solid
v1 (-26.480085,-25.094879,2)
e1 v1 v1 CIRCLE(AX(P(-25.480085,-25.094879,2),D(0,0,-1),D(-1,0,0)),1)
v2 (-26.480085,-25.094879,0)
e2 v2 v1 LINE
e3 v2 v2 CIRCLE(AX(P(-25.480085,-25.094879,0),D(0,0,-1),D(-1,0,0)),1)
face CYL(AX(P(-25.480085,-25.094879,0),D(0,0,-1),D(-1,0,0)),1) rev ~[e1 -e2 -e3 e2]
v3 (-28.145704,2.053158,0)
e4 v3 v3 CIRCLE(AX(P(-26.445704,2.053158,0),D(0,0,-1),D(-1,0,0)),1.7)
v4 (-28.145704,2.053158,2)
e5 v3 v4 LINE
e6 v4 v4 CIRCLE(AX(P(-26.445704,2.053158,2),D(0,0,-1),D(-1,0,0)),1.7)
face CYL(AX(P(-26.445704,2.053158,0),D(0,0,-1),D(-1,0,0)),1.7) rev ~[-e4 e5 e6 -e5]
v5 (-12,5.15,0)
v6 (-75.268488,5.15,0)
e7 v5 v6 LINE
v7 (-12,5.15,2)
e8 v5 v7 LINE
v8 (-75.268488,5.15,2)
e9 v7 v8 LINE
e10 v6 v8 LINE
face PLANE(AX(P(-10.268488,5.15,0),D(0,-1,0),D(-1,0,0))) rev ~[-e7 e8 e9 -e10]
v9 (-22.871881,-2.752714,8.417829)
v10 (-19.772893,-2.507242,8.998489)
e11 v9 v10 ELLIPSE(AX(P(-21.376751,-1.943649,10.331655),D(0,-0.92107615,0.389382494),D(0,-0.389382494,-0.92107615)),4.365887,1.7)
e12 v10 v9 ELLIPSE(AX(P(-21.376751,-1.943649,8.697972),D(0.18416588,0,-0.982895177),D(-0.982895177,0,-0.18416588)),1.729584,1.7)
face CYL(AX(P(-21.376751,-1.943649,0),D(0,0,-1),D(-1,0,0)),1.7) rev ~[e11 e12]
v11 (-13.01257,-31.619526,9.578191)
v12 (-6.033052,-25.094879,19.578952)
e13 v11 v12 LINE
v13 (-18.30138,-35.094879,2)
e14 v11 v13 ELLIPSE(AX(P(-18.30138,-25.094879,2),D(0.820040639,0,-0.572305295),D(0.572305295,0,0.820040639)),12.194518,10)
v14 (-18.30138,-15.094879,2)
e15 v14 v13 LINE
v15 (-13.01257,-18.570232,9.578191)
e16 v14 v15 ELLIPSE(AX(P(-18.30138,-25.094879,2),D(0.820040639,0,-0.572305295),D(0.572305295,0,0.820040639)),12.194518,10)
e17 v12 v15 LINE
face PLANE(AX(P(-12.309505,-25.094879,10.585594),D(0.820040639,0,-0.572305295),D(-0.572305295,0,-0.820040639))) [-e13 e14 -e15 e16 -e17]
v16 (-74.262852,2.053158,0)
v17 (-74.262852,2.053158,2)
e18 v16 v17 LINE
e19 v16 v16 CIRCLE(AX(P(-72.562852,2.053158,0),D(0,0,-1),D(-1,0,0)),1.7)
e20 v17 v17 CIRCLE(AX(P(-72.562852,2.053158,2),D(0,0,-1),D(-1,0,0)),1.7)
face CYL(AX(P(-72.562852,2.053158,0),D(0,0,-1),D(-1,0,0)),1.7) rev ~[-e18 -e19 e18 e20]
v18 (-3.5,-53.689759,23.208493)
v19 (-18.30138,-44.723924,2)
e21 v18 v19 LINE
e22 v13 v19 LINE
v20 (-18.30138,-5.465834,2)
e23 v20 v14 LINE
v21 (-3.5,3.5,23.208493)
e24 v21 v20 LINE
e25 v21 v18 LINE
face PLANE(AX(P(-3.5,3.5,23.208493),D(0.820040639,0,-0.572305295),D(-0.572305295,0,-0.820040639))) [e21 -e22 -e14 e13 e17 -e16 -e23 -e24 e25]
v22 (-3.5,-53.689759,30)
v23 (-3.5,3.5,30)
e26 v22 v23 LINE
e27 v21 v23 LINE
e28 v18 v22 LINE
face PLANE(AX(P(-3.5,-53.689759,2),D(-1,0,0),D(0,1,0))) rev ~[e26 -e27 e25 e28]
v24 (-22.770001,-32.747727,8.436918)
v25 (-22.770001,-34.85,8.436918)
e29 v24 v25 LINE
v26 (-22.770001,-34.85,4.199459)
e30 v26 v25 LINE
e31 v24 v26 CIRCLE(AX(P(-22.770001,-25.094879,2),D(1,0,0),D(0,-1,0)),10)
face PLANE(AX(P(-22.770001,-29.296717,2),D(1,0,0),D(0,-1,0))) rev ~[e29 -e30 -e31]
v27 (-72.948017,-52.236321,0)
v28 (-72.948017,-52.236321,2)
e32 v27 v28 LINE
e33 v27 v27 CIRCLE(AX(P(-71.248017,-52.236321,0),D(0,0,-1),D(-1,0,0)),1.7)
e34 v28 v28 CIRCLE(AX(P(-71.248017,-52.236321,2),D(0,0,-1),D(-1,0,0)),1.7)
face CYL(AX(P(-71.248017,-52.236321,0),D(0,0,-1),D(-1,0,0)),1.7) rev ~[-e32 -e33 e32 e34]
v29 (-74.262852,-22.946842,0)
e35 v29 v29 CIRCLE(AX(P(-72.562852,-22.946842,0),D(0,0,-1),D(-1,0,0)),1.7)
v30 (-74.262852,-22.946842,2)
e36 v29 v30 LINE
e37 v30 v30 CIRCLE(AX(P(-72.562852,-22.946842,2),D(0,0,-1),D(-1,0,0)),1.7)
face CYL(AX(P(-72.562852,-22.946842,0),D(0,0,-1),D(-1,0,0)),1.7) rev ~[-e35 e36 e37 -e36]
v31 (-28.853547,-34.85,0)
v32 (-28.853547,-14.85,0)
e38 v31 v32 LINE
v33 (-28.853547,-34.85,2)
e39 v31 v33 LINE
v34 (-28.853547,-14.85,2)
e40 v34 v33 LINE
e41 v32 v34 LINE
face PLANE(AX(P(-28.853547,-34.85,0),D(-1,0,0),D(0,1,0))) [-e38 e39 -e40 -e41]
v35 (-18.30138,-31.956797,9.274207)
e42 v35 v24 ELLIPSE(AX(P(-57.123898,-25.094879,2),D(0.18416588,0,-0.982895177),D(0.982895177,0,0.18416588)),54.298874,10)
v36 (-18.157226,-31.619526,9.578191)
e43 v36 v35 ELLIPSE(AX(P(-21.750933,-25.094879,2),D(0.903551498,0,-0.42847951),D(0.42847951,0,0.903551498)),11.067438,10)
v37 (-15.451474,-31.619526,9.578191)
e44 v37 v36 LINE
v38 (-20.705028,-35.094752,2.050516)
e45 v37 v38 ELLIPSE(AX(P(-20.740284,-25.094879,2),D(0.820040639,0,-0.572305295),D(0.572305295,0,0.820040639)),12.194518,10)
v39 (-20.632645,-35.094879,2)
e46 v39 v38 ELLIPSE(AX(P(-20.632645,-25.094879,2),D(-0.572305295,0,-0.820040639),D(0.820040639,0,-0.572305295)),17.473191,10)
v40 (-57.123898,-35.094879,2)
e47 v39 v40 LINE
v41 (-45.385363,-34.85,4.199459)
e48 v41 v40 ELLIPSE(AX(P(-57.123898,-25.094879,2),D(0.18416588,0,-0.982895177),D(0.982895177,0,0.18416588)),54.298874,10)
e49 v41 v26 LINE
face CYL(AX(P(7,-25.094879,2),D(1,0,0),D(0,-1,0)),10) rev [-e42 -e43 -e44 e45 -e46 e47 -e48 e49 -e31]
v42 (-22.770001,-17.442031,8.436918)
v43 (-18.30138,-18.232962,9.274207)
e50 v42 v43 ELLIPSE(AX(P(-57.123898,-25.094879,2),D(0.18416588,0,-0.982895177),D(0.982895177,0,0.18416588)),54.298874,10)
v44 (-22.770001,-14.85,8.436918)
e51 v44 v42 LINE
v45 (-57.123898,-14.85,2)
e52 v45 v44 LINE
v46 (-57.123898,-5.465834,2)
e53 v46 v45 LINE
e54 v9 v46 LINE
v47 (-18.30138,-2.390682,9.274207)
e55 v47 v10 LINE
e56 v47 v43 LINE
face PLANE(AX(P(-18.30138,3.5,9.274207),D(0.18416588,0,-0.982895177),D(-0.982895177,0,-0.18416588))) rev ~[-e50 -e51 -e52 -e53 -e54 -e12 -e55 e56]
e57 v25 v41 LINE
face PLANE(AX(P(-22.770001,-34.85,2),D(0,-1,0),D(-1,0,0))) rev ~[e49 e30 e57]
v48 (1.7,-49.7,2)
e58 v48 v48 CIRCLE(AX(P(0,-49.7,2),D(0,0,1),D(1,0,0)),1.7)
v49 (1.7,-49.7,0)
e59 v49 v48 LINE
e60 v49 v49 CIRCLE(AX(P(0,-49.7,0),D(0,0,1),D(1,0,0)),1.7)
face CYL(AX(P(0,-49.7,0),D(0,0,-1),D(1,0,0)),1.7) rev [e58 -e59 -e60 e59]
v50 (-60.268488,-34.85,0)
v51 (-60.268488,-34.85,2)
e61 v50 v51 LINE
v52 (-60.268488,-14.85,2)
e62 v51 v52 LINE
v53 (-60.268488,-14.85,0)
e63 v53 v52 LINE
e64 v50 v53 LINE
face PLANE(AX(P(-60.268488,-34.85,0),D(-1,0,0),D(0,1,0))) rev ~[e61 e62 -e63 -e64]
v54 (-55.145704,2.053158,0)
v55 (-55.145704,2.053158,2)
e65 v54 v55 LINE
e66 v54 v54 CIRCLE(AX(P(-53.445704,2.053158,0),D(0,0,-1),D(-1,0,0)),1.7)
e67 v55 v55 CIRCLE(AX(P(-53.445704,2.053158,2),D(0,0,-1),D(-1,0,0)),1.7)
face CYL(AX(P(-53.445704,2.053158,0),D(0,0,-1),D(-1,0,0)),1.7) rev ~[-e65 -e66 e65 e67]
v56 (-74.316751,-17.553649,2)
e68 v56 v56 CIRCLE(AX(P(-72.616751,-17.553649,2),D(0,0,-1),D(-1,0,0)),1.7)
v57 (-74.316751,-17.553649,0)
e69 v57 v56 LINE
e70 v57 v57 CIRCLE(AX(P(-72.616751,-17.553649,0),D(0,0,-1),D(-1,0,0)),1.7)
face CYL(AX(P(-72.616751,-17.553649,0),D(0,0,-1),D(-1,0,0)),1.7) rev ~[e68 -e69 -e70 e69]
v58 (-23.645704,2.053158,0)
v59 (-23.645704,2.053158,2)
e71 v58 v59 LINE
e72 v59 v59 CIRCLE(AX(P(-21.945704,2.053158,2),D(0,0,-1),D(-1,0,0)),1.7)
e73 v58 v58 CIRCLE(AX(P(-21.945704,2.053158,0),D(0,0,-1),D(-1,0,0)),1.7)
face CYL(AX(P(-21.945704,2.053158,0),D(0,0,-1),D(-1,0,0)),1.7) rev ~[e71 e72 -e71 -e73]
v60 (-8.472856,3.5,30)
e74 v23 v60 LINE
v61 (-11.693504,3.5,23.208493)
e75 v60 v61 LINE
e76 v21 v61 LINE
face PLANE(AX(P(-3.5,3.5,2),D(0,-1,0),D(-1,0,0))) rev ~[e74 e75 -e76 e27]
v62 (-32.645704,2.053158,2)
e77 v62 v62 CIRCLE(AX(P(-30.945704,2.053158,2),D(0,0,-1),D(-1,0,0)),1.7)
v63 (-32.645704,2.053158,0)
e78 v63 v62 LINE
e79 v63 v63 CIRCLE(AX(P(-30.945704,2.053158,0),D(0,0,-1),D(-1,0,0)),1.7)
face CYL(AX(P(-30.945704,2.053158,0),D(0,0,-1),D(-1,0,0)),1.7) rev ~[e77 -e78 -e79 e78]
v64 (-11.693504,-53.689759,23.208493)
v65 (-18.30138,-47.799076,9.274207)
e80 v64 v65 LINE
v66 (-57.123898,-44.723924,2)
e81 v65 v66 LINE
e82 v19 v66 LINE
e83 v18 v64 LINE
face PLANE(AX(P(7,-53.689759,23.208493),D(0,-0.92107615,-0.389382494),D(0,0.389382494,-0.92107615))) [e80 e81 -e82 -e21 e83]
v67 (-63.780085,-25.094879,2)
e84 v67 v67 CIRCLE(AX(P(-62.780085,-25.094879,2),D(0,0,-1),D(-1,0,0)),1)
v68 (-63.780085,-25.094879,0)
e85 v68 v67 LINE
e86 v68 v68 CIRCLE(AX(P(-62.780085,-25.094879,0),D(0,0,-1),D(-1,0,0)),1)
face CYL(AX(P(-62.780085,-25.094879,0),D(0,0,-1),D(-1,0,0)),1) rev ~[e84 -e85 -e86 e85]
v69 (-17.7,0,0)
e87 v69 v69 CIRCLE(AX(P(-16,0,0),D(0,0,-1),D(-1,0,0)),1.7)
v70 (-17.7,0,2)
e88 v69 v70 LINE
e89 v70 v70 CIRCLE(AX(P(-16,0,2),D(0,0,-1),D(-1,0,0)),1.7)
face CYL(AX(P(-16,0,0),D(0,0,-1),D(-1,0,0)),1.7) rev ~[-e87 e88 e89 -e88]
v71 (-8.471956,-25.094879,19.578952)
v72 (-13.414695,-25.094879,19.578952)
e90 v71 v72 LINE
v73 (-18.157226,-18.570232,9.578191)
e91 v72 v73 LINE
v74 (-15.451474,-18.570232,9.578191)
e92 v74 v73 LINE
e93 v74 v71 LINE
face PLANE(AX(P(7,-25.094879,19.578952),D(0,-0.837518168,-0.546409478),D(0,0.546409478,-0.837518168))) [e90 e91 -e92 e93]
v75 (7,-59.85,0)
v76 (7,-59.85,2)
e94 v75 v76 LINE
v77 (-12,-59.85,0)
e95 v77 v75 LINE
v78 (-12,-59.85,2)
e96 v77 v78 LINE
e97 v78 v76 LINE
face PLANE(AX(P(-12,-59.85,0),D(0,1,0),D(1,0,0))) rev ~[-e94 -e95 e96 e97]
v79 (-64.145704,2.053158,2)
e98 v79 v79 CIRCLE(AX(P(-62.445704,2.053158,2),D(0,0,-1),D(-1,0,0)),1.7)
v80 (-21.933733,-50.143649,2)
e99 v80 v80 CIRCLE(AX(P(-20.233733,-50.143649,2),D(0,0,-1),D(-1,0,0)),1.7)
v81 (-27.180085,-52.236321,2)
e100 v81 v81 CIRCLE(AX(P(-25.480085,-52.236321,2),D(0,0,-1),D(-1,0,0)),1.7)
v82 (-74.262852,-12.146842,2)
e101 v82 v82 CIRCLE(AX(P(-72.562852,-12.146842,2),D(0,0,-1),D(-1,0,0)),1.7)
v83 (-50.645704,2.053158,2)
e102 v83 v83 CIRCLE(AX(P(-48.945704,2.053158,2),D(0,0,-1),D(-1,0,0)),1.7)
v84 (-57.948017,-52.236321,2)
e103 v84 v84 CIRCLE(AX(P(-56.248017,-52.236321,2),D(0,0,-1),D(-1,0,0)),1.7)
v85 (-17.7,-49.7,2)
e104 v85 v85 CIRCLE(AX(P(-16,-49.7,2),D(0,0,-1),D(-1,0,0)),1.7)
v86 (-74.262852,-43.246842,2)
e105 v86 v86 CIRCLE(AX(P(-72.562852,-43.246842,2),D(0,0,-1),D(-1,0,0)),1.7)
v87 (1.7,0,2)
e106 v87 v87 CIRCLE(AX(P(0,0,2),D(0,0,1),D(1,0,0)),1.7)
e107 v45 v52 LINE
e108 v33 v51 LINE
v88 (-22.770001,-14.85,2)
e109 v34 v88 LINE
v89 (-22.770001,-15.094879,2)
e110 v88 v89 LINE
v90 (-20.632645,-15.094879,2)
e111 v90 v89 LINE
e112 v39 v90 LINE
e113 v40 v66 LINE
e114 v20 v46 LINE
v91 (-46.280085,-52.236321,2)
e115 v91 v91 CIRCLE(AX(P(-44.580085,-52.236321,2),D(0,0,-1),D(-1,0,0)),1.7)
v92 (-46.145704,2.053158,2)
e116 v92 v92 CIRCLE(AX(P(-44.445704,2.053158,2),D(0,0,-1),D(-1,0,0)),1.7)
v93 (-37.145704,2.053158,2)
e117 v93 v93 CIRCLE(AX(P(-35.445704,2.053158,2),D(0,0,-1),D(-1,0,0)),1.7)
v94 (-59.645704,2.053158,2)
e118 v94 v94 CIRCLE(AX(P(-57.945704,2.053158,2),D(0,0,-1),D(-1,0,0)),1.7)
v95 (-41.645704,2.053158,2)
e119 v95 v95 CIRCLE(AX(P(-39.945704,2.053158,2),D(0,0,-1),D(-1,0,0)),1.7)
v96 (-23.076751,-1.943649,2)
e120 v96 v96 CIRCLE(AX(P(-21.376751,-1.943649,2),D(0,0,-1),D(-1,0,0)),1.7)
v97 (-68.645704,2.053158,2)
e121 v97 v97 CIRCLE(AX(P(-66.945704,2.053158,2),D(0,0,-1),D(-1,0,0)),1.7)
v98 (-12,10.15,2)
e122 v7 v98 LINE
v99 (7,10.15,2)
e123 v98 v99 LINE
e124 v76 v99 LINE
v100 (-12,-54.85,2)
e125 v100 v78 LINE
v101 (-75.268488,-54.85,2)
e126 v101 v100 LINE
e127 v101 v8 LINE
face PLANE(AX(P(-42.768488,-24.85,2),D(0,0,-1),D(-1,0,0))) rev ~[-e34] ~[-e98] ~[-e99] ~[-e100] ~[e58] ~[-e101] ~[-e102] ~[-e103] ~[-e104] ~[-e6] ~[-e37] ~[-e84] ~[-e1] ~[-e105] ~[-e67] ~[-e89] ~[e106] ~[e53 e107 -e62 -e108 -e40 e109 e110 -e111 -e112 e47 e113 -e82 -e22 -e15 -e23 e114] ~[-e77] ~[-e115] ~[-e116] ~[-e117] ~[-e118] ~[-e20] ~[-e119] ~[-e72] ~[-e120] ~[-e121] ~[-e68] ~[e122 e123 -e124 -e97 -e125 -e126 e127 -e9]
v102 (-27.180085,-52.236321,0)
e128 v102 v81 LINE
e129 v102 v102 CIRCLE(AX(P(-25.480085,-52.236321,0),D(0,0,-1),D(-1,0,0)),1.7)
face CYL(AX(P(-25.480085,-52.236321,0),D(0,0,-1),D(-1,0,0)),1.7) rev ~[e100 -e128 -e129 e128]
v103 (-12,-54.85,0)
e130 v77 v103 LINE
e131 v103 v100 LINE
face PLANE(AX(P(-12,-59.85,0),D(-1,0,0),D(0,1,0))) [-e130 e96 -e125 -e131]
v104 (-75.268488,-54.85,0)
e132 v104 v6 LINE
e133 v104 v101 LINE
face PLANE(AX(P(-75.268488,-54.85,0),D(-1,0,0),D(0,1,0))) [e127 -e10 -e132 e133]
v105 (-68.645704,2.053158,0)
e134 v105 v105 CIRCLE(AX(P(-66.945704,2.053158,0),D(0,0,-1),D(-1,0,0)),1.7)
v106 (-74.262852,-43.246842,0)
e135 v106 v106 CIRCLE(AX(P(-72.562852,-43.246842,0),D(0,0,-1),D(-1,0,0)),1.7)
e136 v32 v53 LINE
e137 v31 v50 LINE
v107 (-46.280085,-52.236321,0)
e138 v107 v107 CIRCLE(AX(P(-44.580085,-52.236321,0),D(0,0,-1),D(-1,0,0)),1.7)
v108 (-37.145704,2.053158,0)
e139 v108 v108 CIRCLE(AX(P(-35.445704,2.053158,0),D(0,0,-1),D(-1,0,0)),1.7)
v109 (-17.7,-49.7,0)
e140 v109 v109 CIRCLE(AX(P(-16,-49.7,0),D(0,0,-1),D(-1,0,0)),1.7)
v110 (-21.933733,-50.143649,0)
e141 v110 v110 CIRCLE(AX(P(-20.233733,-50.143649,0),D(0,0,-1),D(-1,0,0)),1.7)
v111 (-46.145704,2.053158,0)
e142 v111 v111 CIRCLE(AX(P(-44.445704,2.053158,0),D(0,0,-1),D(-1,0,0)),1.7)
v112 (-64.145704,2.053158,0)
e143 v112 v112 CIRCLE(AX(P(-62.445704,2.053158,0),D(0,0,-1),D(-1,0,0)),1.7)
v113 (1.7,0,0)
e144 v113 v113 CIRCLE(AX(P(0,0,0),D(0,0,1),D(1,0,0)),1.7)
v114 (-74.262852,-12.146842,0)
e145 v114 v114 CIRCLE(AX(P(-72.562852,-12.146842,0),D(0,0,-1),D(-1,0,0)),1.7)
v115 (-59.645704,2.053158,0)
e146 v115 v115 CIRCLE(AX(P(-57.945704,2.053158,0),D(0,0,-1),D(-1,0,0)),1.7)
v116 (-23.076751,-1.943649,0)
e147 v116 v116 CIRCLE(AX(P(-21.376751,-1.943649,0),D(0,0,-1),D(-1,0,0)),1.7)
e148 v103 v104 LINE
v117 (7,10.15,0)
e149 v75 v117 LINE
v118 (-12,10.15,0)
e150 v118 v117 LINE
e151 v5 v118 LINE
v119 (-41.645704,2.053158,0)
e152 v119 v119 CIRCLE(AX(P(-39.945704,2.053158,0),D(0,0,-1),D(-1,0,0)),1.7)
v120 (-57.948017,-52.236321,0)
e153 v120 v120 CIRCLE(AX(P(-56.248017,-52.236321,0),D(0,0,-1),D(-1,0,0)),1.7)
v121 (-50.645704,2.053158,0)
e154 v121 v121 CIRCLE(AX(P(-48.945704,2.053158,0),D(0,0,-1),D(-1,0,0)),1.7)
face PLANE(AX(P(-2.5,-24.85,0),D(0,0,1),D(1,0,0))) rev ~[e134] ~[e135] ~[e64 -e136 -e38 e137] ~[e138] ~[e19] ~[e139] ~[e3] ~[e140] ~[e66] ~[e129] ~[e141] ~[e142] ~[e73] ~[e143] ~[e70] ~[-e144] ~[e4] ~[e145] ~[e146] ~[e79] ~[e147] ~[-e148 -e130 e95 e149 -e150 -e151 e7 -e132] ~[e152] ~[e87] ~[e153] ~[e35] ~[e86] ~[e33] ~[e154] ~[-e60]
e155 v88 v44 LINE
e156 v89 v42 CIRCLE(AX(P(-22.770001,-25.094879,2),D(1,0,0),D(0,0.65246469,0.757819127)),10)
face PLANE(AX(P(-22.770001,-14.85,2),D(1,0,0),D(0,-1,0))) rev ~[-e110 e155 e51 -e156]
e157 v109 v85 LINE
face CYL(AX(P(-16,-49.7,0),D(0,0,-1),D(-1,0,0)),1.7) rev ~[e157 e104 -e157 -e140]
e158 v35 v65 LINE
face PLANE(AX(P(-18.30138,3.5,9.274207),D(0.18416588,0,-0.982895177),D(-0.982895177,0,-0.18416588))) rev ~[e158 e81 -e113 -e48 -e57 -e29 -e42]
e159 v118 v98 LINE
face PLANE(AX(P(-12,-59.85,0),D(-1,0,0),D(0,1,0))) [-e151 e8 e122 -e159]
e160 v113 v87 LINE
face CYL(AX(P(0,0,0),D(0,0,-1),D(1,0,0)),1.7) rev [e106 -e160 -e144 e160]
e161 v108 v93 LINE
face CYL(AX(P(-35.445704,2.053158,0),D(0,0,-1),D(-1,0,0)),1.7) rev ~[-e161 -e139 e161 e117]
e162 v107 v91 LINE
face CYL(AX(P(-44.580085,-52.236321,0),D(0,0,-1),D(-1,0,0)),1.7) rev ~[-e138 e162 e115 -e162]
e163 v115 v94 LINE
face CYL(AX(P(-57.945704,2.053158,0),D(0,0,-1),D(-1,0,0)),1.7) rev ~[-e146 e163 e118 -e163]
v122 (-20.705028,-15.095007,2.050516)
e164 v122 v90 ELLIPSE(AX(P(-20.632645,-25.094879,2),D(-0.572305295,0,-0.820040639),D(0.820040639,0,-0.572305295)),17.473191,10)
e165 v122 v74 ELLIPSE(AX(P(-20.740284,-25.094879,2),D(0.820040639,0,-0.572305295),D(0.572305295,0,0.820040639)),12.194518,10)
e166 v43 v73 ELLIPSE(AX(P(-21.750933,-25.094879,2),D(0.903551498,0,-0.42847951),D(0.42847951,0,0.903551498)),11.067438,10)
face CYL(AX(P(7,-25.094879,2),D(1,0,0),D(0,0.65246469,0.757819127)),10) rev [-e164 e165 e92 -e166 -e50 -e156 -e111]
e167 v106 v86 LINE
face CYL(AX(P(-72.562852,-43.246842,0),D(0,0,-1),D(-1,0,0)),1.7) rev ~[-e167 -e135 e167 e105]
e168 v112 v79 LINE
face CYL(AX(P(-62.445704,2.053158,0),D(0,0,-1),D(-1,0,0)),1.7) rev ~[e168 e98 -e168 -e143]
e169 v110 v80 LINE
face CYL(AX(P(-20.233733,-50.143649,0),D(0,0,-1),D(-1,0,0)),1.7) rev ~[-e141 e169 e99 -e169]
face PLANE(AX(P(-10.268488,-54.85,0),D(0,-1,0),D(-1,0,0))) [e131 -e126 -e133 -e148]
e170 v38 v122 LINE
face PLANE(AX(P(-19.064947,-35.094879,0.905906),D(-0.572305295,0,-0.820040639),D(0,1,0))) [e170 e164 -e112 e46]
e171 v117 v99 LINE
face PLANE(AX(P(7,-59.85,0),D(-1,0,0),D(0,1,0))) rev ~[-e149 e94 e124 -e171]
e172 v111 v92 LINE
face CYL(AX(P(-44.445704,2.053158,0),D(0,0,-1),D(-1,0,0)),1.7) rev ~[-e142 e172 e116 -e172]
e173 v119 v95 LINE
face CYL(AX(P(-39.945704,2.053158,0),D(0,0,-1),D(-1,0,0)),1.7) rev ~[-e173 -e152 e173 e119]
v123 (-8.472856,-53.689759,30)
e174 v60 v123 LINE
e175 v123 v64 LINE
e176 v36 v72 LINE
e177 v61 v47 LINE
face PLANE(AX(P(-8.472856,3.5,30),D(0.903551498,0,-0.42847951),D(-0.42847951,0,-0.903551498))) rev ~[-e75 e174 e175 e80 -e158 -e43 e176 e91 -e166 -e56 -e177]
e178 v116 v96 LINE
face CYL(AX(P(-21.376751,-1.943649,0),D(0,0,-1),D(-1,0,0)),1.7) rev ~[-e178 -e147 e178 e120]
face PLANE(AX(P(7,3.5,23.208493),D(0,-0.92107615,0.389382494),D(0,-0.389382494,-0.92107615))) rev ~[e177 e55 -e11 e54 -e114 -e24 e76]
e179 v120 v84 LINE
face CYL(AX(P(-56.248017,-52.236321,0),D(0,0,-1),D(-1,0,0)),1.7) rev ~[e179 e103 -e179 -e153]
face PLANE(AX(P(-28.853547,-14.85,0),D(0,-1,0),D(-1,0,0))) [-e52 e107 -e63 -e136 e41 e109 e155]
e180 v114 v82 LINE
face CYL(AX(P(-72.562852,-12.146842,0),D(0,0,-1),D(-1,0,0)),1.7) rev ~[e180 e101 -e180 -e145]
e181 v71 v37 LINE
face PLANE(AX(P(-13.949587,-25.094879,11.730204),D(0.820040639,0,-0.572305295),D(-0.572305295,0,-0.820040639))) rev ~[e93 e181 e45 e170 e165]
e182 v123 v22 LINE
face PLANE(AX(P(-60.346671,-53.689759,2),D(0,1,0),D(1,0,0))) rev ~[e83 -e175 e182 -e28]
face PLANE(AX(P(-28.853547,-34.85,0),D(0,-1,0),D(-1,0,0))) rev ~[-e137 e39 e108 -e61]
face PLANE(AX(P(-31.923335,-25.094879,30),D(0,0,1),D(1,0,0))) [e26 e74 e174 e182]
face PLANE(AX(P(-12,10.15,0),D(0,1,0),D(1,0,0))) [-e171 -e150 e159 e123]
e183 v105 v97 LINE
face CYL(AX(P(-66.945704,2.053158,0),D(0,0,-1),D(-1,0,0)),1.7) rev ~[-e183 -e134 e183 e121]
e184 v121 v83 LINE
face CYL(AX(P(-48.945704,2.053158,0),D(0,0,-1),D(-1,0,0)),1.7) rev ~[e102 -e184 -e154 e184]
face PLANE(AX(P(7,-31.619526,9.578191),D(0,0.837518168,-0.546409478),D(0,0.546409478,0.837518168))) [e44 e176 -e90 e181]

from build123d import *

# Parameters (mm, degrees)
ESQUISSE1_W             = 19
ESQUISSE1_H             = 70
ESQUISSE1_R             = 1.7
BOSS_EXTRU_1_DEPTH      = 2
ESQUISSE2_W             = 65
ESQUISSE2_H             = 60
BOSS_EXTRU_2_DEPTH      = 2
ESQUISSE3_R             = 1.7
ESQUISSE3_R_2           = 1
ENL_V_MAT_EXTRU_1_DEPTH = 2
ESQUISSE4_R             = 1.7
ENL_V_MAT_EXTRU_2_DEPTH = 2
ESQUISSE5_W             = 31.414941094
ESQUISSE5_H             = 20
ENL_V_MAT_EXTRU_3_DEPTH = 10
BOSS_EXTRU_7_DEPTH      = 28
ENL_V_MAT_EXTRU_4_DEPTH = 60
ENL_V_MAT_EXTRU_5_DEPTH = 72
ENL_V_MAT_EXTRU_6_DEPTH = 67
ENL_V_MAT_EXTRU_7_DEPTH = 35
BOSS_EXTRU_11_DEPTH     = 2
ESQUISSE15_R            = 1.7
ENL_V_MAT_EXTRU_8_DEPTH = 10


with BuildPart() as part:
    # Esquisse1 → Boss.-Extru.1 (new body)
    with BuildSketch(Plane.XY):
        with Locations((-2.5, -24.85)):
            Rectangle(ESQUISSE1_W, ESQUISSE1_H)
        Circle(ESQUISSE1_R, mode=Mode.SUBTRACT)
        with Locations((0, -49.7)):
            Circle(ESQUISSE1_R, mode=Mode.SUBTRACT)
    extrude(amount=BOSS_EXTRU_1_DEPTH)

    # Esquisse2 → Boss.-Extru.2 (add)
    with BuildSketch(Plane(origin=(0, 0, 0), x_dir=(-1, 0, 0), z_dir=(0, 0, -1))):
        with Locations((42.768488136, -24.85)):
            Rectangle(ESQUISSE2_W, ESQUISSE2_H)
    extrude(amount=-BOSS_EXTRU_2_DEPTH)

    # Esquisse3 → Enlèv. mat.-Extru.1 (cut)
    with BuildSketch(Plane(origin=(0, 0, 0), x_dir=(-1, 0, 0), z_dir=(0, 0, -1))):
        with Locations((56.248017163, -52.23632124)):
            Circle(ESQUISSE3_R)
        with Locations((25.480085092, -25.094879292)):
            Circle(ESQUISSE3_R_2)
        with Locations((62.780085092, -25.094879292)):
            Circle(ESQUISSE3_R_2)
        with Locations((71.248017163, -52.23632124)):
            Circle(ESQUISSE3_R)
        with Locations((21.945704193, 2.053157955)):
            Circle(ESQUISSE3_R)
        with Locations((26.445704193, 2.053157955)):
            Circle(ESQUISSE3_R)
        with Locations((30.945704193, 2.053157955)):
            Circle(ESQUISSE3_R)
        with Locations((35.445704193, 2.053157955)):
            Circle(ESQUISSE3_R)
        with Locations((72.562852247, -43.246842045)):
            Circle(ESQUISSE3_R)
        with Locations((72.562852247, -22.946842045)):
            Circle(ESQUISSE3_R)
        with Locations((72.562852247, -12.146842045)):
            Circle(ESQUISSE3_R)
        with Locations((72.562852247, 2.053157955)):
            Circle(ESQUISSE3_R)
        with Locations((25.480085092, -52.23632124)):
            Circle(ESQUISSE3_R)
        with Locations((44.580085092, -52.23632124)):
            Circle(ESQUISSE3_R)
        with Locations((39.945704193, 2.053157955)):
            Circle(ESQUISSE3_R)
        with Locations((44.445704193, 2.053157955)):
            Circle(ESQUISSE3_R)
        with Locations((48.945704193, 2.053157955)):
            Circle(ESQUISSE3_R)
        with Locations((53.445704193, 2.053157955)):
            Circle(ESQUISSE3_R)
        with Locations((57.945704193, 2.053157955)):
            Circle(ESQUISSE3_R)
        with Locations((62.445704193, 2.053157955)):
            Circle(ESQUISSE3_R)
        with Locations((66.945704193, 2.053157955)):
            Circle(ESQUISSE3_R)
    extrude(amount=-ENL_V_MAT_EXTRU_1_DEPTH, mode=Mode.SUBTRACT)

    # Esquisse4 → Enlèv. mat.-Extru.2 (cut)
    with BuildSketch(Plane(origin=(0, 0, 0), x_dir=(-1, 0, 0), z_dir=(0, 0, -1))):
        with Locations((16, -49.7)):
            Circle(ESQUISSE4_R)
        with Locations((16, 0)):
            Circle(ESQUISSE4_R)
    extrude(amount=-ENL_V_MAT_EXTRU_2_DEPTH, mode=Mode.SUBTRACT)

    # Esquisse5 → Enlèv. mat.-Extru.3 (cut)
    with BuildSketch(Plane(origin=(0, 0, 0), x_dir=(-1, 0, 0), z_dir=(0, 0, -1))):
        with Locations((44.561017589, -24.85)):
            Rectangle(ESQUISSE5_W, ESQUISSE5_H)
    extrude(amount=-ENL_V_MAT_EXTRU_3_DEPTH, mode=Mode.SUBTRACT)

    # Esquisse9 → Boss.-Extru.7 (add)
    with BuildSketch(Plane.XY.offset(2)):
        Polygon((-3.5, -53.689758583), (-3.5, 3.5), (-28.853547042, 3.5), (-60.346670852, 3.5), (-60.346670852, -53.689758583), (-28.853547042, -53.689758583), align=None)
    extrude(amount=BOSS_EXTRU_7_DEPTH)

    # Esquisse10 → Enlèv. mat.-Extru.4 (cut)
    with BuildSketch(Plane(origin=(0, 3.5, 0), x_dir=(1, 0, 0), z_dir=(0, 1, 0))):
        Polygon((-18.30138002, -2), (-3.5, -2), (-3.5, -23.208493493), align=None)
        Polygon((-8.472856096, -30), (-18.30138002, -9.274207286), (-57.123898362, -2), (-60.855534618, -2), (-60.855534618, -30), (-28.853547042, -30), align=None)
    extrude(amount=-ENL_V_MAT_EXTRU_4_DEPTH, mode=Mode.SUBTRACT)

    # Esquisse11 → Enlèv. mat.-Extru.5 (cut)
    with BuildSketch(Plane(origin=(7, 0, 0), x_dir=(0, 0, -1), z_dir=(1, 0, 0))):
        Polygon((-23.208493493, 3.5), (-2, -5.465834256), (-2, 3.5), align=None)
        Polygon((-2, -44.723924327), (-2, -53.689758583), (-23.208493493, -53.689758583), align=None)
    extrude(amount=-ENL_V_MAT_EXTRU_5_DEPTH, mode=Mode.SUBTRACT)

    # Esquisse12 → Enlèv. mat.-Extru.6 (cut)
    with BuildSketch(Plane(origin=(7, 0, 0), x_dir=(0, 0, -1), z_dir=(1, 0, 0))):
        with BuildLine():
            Line((-2, -15.094879292), (-2, -35.094879292))
            ThreePointArc((-2, -35.094879292), (-6.168544771, -34.184611658), (-9.578191265, -31.619526191))
            Line((-9.578191265, -31.619526191), (-19.578951758, -25.094879292))
            Line((-19.578951758, -25.094879292), (-9.578191265, -18.570232393))
            ThreePointArc((-9.578191265, -18.570232393), (-6.168544771, -16.005146925), (-2, -15.094879292))
        make_face()
    extrude(amount=-ENL_V_MAT_EXTRU_6_DEPTH, mode=Mode.SUBTRACT)

    # Esquisse13 → Enlèv. mat.-Extru.7 (cut)
    with BuildSketch(Plane.XY.offset(2)):
        with BuildLine():
            Line((-60.268488136, -14.85), (-22.770000782, -14.85))
            Line((-22.770000782, -14.85), (-22.770000782, -20.893041237))
            ThreePointArc((-22.770000782, -20.893041237), (-20.480085092, -25.094879292), (-22.770000782, -29.296717346))
            Line((-22.770000782, -29.296717346), (-22.770000782, -34.85))
            Line((-22.770000782, -34.85), (-60.268488136, -34.85))
            Line((-60.268488136, -34.85), (-60.268488136, -14.85))
        make_face()
    extrude(amount=ENL_V_MAT_EXTRU_7_DEPTH, mode=Mode.SUBTRACT)

    # Esquisse14 → Boss.-Extru.11 (add)
    with BuildSketch(Plane(origin=(-13.245694898, 0, 9.244153239), x_dir=(-0.572305295, 0, -0.820040639), z_dir=(0.820040639, 0, -0.572305295))):
        Polygon((8.833895415, -35.094879292), (10.168090758, -35.094879292), (10.168090758, -15.094879292), (8.833895415, -15.094879292), (-13.439734278, -15.094879292), (-13.439734278, -35.094879292), align=None)
    extrude(amount=-BOSS_EXTRU_11_DEPTH)

    # Esquisse15 → Enlèv. mat.-Extru.8 (cut)
    with BuildSketch(Plane(origin=(0, 0, 0), x_dir=(-1, 0, 0), z_dir=(0, 0, -1))):
        with Locations((20.233733499, -50.143649221)):
            Circle(ESQUISSE15_R)
        with Locations((21.376751472, -1.943649221)):
            Circle(ESQUISSE15_R)
        with Locations((72.616751472, -17.553649221)):
            Circle(ESQUISSE15_R)
    extrude(amount=-ENL_V_MAT_EXTRU_8_DEPTH, mode=Mode.SUBTRACT)


solid = part.part
